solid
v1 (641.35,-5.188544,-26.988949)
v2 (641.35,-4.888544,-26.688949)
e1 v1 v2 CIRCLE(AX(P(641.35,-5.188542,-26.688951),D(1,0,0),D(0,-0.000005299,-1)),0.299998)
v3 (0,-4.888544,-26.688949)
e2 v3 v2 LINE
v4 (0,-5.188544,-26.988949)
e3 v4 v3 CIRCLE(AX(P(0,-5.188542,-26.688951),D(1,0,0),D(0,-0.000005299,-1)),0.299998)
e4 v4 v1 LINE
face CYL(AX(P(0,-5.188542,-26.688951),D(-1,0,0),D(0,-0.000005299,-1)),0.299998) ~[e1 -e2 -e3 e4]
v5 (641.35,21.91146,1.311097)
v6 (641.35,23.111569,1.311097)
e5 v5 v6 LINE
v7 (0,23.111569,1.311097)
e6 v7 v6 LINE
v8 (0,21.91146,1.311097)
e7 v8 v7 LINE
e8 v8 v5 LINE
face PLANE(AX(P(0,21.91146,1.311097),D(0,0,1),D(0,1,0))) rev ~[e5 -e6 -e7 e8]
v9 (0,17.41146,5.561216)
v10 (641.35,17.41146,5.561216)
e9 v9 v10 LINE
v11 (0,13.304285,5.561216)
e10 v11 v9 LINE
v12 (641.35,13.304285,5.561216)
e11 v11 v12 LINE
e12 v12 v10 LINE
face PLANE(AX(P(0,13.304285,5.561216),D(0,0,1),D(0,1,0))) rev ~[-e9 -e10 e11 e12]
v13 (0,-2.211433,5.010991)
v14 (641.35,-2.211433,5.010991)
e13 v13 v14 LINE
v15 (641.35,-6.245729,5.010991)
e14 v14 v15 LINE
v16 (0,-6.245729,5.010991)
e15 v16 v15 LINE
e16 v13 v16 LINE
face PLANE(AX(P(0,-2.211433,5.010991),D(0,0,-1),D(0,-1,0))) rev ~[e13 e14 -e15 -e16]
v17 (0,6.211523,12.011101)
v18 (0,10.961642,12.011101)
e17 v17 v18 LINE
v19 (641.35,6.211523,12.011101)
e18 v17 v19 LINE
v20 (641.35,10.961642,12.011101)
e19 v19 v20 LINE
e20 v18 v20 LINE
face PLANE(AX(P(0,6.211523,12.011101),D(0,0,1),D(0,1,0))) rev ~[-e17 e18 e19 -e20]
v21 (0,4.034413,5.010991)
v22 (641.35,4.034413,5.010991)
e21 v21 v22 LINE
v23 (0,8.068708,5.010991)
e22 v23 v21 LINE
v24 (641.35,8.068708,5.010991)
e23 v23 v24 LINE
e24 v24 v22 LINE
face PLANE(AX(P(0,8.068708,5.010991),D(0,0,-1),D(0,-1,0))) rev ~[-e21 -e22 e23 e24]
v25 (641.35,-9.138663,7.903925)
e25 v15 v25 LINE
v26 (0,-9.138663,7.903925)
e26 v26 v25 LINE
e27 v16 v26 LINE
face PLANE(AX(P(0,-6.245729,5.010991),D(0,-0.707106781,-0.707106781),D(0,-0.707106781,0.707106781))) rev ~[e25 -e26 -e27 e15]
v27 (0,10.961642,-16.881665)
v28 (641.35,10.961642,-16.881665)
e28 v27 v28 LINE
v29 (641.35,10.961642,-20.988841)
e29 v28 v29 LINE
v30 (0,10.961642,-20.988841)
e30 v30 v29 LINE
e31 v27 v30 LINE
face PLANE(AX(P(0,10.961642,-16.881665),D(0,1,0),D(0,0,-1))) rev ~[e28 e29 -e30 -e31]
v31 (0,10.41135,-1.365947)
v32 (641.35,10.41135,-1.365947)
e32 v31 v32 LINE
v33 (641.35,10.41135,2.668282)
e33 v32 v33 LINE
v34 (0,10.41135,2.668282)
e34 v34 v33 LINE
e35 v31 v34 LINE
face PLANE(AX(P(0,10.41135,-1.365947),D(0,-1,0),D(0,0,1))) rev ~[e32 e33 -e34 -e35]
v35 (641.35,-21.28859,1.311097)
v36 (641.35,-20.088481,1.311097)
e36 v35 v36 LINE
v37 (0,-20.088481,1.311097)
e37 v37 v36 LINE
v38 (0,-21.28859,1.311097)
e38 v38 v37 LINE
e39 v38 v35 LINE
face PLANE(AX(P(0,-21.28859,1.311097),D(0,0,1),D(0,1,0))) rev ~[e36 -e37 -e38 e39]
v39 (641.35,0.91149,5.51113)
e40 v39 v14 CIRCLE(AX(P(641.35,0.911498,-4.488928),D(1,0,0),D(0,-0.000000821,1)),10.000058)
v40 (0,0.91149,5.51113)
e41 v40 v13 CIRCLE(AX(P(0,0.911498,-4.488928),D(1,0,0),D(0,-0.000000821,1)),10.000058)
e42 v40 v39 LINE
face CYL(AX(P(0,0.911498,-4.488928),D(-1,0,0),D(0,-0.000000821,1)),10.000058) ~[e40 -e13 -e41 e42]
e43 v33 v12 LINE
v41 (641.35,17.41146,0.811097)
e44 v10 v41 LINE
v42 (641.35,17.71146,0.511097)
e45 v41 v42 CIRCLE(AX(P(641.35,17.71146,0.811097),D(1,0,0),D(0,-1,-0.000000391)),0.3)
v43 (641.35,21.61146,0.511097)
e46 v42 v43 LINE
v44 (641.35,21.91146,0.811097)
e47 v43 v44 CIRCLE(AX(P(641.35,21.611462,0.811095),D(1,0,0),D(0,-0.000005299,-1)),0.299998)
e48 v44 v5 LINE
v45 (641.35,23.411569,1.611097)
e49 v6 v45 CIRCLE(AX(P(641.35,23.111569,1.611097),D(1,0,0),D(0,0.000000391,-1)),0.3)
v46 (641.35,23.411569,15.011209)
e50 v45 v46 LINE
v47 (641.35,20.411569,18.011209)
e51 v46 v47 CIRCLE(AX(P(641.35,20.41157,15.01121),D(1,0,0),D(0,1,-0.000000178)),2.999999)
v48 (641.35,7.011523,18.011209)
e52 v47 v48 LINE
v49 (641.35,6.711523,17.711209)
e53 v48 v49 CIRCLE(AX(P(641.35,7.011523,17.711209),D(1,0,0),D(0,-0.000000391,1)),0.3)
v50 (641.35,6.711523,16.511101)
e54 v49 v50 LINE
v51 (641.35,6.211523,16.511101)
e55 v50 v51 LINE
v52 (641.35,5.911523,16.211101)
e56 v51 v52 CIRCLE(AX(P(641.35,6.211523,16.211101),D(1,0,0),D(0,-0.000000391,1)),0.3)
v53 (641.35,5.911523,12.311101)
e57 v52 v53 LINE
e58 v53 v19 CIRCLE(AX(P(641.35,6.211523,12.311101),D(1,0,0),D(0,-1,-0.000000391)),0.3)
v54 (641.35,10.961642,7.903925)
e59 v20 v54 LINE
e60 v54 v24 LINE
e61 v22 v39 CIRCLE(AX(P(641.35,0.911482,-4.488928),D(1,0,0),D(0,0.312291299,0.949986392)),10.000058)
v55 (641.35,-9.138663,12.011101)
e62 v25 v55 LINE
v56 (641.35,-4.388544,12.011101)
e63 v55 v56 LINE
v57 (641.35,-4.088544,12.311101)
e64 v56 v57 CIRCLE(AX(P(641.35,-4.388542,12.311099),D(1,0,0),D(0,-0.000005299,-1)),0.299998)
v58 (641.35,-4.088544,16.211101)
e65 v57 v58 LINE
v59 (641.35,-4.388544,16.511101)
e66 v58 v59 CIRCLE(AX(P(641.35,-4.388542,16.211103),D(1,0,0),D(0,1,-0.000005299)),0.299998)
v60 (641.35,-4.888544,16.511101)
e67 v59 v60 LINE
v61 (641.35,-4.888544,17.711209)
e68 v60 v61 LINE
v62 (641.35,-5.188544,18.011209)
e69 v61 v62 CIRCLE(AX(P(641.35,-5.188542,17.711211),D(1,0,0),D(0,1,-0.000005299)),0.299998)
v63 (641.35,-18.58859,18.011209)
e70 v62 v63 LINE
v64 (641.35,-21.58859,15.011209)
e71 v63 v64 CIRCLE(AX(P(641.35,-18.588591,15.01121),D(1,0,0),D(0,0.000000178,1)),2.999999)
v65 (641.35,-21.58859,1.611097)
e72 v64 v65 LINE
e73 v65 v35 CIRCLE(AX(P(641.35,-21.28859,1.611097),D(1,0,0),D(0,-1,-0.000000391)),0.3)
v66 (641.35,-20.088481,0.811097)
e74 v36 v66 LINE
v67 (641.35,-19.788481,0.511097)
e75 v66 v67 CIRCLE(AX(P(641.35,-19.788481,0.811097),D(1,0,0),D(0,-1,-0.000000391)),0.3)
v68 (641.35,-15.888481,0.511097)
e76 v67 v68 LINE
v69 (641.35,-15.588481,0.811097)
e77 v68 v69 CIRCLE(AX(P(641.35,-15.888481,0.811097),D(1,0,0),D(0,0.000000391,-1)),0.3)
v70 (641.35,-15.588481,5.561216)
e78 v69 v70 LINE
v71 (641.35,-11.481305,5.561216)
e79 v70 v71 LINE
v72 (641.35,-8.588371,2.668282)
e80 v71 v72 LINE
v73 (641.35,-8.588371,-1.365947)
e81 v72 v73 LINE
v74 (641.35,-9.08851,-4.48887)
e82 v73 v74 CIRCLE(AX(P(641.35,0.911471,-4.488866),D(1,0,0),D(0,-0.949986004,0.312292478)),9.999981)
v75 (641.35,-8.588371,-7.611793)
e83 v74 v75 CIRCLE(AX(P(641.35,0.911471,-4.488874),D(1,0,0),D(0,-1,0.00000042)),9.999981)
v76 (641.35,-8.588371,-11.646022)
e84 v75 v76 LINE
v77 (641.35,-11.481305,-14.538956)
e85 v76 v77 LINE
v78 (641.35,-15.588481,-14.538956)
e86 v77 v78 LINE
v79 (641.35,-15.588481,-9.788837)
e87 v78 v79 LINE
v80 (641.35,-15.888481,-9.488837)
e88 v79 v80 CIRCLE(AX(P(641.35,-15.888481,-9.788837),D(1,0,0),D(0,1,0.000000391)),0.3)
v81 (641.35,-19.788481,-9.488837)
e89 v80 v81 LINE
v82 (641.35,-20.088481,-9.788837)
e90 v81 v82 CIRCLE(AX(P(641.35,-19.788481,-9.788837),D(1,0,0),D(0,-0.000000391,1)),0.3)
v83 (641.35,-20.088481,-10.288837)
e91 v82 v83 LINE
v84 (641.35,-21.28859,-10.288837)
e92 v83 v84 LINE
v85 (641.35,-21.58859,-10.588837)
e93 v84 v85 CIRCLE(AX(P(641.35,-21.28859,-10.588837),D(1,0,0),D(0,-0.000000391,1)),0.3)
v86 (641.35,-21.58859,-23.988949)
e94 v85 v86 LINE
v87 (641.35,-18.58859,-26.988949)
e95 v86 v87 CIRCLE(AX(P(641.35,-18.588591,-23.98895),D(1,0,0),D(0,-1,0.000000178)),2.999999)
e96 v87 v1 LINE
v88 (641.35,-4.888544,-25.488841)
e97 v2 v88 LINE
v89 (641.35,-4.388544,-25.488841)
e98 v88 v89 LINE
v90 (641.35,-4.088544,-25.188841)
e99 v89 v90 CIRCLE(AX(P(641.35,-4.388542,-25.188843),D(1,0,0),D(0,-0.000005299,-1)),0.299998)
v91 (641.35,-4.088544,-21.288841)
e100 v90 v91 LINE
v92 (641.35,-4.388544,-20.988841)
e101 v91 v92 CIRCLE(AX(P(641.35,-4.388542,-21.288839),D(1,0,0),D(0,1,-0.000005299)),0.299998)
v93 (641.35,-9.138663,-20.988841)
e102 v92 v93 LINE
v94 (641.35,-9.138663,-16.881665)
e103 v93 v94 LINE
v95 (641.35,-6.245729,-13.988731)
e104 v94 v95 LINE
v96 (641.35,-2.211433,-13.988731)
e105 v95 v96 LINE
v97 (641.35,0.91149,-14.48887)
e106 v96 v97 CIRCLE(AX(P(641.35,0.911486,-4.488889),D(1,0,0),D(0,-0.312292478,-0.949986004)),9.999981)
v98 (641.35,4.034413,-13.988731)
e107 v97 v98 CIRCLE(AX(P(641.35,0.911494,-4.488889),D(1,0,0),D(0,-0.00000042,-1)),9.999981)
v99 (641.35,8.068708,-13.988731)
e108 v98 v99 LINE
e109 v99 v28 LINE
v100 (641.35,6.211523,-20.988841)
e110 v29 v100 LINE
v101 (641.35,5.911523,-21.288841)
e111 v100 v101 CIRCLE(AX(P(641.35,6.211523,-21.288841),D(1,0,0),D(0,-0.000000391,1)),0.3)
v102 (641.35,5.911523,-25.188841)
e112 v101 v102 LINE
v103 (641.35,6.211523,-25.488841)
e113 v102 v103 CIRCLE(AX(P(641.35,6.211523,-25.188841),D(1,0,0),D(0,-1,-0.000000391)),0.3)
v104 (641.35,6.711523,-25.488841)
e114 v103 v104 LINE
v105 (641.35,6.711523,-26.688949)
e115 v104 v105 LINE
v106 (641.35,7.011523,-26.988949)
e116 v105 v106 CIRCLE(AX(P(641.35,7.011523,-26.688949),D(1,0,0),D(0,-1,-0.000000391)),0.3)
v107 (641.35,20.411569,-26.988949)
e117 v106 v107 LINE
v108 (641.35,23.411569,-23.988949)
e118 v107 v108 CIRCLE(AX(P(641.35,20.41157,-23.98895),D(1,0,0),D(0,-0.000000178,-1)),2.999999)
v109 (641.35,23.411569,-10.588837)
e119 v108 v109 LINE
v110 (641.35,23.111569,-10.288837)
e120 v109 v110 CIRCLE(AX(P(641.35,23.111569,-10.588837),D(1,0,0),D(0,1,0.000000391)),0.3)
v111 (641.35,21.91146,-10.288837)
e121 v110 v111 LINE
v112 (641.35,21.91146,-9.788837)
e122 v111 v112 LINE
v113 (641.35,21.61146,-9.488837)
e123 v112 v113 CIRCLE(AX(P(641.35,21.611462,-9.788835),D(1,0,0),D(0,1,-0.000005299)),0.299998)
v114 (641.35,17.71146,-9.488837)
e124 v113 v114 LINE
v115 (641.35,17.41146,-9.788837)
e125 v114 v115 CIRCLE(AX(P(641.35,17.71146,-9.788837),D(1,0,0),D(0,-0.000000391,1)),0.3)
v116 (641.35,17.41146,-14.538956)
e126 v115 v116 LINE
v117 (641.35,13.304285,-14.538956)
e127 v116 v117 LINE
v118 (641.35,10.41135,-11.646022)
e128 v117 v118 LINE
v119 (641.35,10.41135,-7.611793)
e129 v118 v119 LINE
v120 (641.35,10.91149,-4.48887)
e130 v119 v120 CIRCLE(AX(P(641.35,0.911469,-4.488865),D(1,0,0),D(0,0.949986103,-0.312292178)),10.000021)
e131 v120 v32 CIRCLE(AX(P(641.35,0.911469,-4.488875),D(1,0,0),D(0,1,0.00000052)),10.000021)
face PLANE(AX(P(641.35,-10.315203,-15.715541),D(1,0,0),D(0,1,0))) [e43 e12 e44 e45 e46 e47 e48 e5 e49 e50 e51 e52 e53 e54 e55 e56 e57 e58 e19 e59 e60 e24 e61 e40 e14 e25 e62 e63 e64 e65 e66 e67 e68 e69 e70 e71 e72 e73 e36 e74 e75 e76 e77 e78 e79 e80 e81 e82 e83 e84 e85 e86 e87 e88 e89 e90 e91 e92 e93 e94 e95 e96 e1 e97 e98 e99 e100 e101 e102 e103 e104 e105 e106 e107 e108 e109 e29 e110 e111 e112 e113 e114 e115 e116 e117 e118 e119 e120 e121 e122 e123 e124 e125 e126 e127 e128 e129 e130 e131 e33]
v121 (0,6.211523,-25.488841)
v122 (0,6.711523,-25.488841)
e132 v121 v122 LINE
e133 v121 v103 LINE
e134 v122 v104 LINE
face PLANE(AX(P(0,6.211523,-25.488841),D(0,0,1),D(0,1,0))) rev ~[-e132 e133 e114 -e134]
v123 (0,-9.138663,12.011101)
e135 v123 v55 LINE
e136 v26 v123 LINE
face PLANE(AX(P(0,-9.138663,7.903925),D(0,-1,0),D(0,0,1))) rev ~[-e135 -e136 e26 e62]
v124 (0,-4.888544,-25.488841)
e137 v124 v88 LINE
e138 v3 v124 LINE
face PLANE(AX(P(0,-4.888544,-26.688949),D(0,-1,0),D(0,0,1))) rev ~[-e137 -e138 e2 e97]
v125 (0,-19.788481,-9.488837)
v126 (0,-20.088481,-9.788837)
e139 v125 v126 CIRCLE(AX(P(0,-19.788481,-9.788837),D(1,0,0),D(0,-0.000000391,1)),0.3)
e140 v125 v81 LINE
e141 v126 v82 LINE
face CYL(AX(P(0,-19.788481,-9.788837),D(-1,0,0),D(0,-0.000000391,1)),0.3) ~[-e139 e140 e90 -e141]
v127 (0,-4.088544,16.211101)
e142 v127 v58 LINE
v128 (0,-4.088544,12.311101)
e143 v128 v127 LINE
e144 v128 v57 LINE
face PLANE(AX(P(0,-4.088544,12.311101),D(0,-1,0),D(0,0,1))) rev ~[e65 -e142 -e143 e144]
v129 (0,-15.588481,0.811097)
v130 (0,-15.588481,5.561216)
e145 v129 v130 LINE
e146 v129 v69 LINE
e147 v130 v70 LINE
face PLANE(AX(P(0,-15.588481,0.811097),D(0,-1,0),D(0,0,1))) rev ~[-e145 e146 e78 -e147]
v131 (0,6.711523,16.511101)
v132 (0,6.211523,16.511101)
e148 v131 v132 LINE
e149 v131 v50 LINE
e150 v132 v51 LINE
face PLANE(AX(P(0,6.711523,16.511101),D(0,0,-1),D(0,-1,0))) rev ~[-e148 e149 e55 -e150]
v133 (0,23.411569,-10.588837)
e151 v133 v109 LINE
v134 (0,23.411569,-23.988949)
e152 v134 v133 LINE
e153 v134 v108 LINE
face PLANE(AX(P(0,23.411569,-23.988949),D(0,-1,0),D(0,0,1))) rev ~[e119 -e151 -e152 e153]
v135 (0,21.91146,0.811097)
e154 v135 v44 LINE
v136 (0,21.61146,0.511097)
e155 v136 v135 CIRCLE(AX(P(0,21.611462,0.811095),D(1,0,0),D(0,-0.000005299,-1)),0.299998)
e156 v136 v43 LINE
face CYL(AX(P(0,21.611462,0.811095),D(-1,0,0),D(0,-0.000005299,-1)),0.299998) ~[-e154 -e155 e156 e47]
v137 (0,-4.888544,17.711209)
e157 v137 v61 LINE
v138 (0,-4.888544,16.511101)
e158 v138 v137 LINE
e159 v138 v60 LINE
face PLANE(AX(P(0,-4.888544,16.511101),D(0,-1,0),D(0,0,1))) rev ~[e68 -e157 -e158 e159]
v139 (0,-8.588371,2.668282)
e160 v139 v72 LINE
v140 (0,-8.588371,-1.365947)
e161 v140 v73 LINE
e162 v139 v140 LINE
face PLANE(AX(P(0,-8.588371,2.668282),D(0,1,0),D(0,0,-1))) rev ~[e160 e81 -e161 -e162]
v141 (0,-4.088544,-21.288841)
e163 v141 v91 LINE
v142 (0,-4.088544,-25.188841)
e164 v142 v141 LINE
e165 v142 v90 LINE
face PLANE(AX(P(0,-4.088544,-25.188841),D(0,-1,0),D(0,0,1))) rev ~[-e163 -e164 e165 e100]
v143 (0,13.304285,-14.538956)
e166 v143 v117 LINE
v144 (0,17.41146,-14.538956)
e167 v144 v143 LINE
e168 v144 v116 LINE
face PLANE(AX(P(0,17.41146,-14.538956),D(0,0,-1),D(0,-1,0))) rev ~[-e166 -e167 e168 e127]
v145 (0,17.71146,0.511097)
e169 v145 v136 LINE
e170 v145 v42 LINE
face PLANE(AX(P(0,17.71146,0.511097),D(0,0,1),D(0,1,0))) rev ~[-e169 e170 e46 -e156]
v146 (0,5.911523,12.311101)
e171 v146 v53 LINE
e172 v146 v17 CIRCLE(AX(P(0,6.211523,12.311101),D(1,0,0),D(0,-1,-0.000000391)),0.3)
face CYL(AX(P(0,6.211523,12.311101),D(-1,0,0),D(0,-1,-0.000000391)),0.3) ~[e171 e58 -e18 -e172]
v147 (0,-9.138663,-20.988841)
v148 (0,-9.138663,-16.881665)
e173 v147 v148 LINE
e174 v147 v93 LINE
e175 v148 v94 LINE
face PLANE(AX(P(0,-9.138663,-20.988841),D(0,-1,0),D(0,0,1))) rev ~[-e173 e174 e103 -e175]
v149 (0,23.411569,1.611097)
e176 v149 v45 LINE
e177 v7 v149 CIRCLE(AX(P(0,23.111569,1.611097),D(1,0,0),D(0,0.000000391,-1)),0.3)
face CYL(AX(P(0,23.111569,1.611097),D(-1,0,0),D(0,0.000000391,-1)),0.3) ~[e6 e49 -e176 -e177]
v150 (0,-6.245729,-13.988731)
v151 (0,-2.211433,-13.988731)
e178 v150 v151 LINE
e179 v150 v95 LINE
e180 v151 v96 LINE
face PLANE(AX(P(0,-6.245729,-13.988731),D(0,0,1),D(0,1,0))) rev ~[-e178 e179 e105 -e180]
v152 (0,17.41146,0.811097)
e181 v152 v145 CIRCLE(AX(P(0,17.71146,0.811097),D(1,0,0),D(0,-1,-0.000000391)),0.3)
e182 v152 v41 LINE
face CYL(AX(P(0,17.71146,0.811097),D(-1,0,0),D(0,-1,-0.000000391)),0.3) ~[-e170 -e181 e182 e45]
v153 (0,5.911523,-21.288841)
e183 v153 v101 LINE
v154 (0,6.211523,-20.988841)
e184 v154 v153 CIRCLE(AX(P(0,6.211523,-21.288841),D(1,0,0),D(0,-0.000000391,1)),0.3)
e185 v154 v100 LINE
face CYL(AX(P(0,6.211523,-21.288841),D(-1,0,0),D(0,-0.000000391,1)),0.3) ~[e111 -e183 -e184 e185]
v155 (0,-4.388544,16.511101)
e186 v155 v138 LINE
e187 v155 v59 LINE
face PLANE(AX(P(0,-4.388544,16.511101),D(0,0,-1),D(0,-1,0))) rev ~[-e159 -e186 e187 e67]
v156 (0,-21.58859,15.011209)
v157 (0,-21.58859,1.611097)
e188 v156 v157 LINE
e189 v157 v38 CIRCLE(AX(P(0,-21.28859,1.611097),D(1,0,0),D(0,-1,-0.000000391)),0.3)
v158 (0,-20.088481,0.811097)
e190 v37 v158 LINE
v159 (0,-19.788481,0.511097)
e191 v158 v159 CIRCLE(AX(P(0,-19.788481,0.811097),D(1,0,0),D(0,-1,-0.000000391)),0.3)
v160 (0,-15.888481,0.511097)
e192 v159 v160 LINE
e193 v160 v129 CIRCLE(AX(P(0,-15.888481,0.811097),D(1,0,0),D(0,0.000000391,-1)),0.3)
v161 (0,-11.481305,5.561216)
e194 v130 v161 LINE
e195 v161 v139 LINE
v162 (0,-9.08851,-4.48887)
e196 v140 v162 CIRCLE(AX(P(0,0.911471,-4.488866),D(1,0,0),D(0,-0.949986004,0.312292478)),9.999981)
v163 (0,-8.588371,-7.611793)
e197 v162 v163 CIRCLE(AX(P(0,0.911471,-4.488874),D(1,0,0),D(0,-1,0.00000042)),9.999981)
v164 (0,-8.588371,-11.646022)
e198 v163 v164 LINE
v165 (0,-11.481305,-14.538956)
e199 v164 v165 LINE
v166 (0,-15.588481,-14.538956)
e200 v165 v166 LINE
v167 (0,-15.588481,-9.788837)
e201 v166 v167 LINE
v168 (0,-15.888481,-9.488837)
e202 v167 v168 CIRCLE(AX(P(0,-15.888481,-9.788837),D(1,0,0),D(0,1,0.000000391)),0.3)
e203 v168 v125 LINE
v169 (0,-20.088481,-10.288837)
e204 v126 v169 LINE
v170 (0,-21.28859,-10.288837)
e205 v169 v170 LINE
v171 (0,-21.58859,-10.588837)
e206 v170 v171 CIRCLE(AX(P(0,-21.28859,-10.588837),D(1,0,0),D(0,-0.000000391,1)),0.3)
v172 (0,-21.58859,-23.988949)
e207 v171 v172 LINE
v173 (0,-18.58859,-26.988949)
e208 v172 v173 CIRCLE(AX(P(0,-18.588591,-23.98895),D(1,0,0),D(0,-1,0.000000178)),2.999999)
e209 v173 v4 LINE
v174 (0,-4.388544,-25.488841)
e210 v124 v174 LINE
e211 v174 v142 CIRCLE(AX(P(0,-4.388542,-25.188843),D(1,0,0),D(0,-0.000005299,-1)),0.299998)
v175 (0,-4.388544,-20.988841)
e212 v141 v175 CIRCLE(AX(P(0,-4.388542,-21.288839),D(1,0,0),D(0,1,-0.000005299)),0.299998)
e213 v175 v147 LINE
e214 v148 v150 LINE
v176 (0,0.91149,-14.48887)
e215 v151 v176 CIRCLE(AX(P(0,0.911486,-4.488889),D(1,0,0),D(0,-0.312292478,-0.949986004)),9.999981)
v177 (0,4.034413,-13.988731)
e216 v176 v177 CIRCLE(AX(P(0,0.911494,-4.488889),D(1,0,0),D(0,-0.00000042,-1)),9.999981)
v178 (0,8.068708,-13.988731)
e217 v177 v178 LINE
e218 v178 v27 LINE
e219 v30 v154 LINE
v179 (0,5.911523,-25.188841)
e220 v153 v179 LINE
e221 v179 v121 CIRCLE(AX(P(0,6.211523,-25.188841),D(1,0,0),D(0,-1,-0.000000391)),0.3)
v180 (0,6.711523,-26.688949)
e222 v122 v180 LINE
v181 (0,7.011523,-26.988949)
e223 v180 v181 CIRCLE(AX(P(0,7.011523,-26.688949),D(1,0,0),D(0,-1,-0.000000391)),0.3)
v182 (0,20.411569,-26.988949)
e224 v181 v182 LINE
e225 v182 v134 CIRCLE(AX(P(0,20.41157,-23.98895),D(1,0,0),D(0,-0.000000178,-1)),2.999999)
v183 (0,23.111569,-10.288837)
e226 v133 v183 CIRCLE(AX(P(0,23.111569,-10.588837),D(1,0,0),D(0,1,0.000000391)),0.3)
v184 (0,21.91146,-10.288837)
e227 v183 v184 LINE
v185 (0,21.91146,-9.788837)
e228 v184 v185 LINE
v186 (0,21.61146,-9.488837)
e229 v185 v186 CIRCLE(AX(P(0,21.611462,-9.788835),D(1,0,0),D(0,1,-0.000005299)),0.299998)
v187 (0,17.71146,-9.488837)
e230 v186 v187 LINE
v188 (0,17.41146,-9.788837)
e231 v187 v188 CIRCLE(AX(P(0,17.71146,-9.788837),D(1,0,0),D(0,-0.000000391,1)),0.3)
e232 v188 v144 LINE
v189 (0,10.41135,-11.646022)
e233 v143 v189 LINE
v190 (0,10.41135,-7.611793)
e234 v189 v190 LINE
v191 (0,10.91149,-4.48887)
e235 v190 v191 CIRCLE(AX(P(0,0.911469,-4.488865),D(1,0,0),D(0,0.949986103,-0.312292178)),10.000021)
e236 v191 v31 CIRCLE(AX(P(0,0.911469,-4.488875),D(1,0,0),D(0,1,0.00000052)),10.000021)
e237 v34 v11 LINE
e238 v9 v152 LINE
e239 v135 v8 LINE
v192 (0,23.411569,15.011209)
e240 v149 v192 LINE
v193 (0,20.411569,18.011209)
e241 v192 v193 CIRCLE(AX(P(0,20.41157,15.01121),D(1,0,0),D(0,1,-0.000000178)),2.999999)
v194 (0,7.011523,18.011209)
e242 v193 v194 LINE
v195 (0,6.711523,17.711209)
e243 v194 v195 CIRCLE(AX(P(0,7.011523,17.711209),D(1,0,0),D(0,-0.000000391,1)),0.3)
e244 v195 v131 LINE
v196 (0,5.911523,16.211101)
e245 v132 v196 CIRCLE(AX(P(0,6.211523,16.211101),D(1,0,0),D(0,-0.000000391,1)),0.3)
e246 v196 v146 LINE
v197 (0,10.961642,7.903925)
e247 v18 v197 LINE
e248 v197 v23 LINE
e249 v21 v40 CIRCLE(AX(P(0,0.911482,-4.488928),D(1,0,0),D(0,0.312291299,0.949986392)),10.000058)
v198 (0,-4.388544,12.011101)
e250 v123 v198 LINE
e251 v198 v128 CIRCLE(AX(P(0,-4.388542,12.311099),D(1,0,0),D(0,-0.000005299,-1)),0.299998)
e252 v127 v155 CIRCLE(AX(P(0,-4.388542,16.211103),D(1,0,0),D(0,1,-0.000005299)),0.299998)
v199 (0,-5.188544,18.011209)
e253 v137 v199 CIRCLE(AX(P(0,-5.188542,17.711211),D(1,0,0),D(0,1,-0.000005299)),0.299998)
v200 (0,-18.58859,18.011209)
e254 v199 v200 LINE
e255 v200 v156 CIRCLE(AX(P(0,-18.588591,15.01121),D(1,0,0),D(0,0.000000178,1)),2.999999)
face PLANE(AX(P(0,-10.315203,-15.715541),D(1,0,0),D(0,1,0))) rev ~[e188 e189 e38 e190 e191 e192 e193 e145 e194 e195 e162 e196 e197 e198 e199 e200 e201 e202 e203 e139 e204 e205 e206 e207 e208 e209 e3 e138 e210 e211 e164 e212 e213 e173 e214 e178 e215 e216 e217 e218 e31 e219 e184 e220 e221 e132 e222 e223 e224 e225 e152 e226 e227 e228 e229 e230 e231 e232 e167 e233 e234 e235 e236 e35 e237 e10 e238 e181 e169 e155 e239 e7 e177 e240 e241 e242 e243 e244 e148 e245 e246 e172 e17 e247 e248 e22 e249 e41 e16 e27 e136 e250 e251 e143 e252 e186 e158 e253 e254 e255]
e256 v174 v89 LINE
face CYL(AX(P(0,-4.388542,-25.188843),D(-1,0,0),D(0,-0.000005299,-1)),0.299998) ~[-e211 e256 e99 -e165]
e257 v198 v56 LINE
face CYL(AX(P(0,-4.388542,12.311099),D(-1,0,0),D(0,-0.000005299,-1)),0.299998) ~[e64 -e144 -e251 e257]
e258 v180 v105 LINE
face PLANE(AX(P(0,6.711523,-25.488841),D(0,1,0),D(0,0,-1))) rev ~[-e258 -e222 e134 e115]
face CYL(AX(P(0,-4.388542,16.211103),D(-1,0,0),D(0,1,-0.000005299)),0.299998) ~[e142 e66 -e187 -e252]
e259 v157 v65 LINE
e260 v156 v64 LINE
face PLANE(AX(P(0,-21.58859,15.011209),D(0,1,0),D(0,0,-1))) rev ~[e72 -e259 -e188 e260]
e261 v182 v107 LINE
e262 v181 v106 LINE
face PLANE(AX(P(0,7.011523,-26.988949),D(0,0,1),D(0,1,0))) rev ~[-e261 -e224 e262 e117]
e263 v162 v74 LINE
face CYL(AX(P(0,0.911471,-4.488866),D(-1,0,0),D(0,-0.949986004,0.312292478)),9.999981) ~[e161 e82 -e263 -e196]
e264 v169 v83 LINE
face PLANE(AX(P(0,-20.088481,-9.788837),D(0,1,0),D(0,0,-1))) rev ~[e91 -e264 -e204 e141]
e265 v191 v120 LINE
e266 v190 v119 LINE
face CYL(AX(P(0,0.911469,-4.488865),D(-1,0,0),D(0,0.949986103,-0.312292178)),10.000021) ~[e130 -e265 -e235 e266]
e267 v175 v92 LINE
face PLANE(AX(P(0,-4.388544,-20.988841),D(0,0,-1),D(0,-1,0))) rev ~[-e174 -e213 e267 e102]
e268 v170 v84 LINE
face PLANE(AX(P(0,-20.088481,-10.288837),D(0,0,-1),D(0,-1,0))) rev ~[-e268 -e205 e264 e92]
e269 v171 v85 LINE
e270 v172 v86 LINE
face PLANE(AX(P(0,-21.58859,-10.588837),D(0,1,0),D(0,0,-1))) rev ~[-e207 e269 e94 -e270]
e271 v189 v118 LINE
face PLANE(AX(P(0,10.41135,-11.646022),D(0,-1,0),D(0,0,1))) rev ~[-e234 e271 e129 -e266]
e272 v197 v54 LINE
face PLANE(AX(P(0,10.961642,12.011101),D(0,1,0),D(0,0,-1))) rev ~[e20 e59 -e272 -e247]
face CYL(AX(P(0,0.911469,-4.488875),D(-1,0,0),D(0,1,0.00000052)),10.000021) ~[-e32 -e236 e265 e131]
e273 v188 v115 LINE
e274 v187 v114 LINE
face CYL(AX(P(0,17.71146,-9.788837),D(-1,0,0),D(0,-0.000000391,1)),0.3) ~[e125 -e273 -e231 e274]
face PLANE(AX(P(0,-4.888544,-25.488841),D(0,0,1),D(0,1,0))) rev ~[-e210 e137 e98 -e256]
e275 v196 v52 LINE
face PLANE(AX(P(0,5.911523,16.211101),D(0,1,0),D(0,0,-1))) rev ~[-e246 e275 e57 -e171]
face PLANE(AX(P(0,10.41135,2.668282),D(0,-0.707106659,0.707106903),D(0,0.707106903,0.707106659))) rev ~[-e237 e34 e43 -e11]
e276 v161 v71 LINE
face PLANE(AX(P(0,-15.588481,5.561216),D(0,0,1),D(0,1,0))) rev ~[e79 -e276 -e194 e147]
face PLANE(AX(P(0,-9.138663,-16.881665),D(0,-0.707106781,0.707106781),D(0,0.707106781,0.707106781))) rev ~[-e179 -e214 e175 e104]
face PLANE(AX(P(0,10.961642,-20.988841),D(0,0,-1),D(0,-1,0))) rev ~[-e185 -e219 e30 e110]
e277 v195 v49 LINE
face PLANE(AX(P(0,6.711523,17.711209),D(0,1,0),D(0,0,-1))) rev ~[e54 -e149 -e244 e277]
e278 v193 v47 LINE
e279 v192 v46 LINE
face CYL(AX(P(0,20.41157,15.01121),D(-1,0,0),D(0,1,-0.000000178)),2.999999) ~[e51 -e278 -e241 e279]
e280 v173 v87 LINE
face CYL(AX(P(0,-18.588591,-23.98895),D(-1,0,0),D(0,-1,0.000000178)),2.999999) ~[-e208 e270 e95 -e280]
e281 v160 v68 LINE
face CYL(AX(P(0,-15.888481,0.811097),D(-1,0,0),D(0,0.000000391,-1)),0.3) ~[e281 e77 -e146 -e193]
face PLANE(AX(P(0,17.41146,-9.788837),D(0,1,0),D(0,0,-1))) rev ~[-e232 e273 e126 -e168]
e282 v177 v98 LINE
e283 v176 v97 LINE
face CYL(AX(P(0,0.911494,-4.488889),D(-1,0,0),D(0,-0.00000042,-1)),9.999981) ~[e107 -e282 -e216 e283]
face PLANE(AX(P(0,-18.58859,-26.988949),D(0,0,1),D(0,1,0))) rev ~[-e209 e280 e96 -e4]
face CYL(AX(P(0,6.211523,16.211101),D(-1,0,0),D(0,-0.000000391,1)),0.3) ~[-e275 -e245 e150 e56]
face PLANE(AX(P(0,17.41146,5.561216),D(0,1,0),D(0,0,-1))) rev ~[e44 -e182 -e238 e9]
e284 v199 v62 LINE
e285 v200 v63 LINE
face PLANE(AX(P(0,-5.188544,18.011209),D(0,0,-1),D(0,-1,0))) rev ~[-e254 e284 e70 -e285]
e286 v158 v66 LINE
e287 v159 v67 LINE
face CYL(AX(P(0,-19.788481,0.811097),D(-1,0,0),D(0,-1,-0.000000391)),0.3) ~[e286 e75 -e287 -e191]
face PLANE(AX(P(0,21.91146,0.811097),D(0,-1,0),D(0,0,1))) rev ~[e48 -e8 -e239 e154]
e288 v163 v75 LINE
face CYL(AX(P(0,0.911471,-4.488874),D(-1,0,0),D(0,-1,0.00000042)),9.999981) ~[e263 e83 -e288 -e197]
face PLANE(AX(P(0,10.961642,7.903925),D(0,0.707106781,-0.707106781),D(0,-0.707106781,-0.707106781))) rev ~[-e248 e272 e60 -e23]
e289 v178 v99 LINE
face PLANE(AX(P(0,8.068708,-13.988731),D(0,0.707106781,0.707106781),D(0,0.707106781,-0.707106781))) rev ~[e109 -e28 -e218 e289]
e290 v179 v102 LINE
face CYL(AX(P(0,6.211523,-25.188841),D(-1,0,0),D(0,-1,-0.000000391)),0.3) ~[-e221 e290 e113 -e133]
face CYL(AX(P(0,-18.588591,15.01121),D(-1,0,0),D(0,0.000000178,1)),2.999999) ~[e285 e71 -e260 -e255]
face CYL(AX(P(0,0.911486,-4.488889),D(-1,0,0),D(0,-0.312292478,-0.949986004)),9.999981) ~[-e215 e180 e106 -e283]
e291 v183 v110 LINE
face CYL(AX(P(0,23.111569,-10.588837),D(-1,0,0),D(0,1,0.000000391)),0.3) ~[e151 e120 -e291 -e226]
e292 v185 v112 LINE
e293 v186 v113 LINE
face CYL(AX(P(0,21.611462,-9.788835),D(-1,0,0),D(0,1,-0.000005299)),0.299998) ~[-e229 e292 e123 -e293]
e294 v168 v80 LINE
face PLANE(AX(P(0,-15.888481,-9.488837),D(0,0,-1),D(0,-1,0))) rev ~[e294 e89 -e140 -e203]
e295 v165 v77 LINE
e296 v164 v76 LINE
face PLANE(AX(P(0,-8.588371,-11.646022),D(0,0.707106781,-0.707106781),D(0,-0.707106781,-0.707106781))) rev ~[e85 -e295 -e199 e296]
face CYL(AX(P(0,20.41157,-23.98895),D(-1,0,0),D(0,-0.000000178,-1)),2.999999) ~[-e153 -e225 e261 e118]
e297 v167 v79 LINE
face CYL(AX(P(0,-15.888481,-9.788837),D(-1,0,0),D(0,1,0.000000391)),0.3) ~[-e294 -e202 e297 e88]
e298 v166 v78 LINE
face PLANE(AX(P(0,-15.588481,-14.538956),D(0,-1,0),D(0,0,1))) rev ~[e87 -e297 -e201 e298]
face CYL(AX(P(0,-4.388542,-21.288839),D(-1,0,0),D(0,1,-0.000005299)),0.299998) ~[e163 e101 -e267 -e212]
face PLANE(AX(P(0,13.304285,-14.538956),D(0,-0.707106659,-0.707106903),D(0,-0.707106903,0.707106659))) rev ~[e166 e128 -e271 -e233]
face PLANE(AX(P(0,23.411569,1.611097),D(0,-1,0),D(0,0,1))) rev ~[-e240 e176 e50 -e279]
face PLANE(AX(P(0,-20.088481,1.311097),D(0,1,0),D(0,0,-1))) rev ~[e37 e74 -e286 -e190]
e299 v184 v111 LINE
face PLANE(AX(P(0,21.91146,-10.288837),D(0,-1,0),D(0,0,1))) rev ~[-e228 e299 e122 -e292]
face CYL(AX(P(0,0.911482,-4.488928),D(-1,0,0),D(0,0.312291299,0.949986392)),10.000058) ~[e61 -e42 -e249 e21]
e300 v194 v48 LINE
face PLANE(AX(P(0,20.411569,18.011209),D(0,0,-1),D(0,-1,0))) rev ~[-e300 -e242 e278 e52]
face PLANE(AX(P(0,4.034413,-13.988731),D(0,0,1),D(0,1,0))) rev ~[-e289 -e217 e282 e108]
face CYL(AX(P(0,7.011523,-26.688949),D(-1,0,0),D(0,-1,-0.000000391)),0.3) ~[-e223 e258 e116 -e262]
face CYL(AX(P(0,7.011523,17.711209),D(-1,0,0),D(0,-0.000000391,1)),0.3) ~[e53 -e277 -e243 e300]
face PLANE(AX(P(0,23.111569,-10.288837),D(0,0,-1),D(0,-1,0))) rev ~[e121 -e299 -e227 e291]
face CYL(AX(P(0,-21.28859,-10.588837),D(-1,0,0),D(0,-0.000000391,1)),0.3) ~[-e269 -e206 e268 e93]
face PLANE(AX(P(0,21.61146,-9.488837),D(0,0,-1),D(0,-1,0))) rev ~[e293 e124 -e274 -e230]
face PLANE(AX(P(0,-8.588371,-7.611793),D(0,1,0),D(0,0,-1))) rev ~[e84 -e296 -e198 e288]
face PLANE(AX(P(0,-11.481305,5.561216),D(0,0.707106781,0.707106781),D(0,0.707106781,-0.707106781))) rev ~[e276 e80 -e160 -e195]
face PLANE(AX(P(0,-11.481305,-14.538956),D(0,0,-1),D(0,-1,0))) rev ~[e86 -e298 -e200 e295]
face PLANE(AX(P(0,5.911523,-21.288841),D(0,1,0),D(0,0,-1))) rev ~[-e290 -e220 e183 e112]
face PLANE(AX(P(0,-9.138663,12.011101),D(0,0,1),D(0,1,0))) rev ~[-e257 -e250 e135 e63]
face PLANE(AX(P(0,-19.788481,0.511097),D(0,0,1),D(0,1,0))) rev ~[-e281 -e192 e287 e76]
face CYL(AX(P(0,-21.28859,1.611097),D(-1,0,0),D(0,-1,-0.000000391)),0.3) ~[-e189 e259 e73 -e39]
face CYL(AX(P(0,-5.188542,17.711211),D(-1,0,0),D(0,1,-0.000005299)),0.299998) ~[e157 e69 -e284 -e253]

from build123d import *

# Parameters (mm, degrees)
F1_DEPTH = 641.35


with BuildPart() as f1:
    # F0 (on Right) → F1 (new body)
    with BuildSketch(Plane.YZ):
        with BuildLine():
            Line((-20.088481, -9.788837), (-20.088481, -10.288837))
            Line((-20.088481, -10.288837), (-21.28859, -10.288837))
            ThreePointArc((-21.28859, -10.288837), (-21.500722, -10.376705), (-21.58859, -10.588837))
            Line((-21.58859, -10.588837), (-21.58859, -23.988949))
            ThreePointArc((-21.58859, -23.988949), (-20.70991, -26.11027), (-18.58859, -26.988949))
            Line((-18.58859, -26.988949), (-5.188544, -26.988949))
            ThreePointArc((-5.188544, -26.988949), (-4.976411, -26.901081), (-4.888544, -26.688949))
            Line((-4.888544, -26.688949), (-4.888544, -25.488841))
            Line((-4.888544, -25.488841), (-4.388544, -25.488841))
            ThreePointArc((-4.388544, -25.488841), (-4.176411, -25.400973), (-4.088544, -25.188841))
            Line((-4.088544, -25.188841), (-4.088544, -21.288841))
            ThreePointArc((-4.088544, -21.288841), (-4.176411, -21.076709), (-4.388544, -20.988841))
            Line((-4.388544, -20.988841), (-9.138663, -20.988841))
            Line((-9.138663, -20.988841), (-9.138663, -16.881665))
            Line((-9.138663, -16.881665), (-6.245729, -13.988731))
            Line((-6.245729, -13.988731), (-2.211433, -13.988731))
            ThreePointArc((-2.211433, -13.988731), (-0.669869, -14.363044), (0.91149, -14.48887))
            Line((0.91149, -14.48887), (0.91149, -4.48887))
            Line((0.91149, -4.48887), (-9.08851, -4.48887))
            ThreePointArc((-9.08851, -4.48887), (-8.962684, -6.070229), (-8.588371, -7.611793))
            Line((-8.588371, -7.611793), (-8.588371, -11.646022))
            Line((-8.588371, -11.646022), (-11.481305, -14.538956))
            Line((-11.481305, -14.538956), (-15.588481, -14.538956))
            Line((-15.588481, -14.538956), (-15.588481, -9.788837))
            ThreePointArc((-15.588481, -9.788837), (-15.676349, -9.576705), (-15.888481, -9.488837))
            Line((-15.888481, -9.488837), (-19.788481, -9.488837))
            ThreePointArc((-19.788481, -9.488837), (-20.000613, -9.576705), (-20.088481, -9.788837))
        make_face()
        with BuildLine():
            ThreePointArc((-8.588371, -1.365947), (-8.962684, -2.907511), (-9.08851, -4.48887))
            Line((-9.08851, -4.48887), (0.91149, -4.48887))
            Line((0.91149, -4.48887), (0.91149, 5.51113))
            ThreePointArc((0.91149, 5.51113), (-0.669869, 5.385303), (-2.211433, 5.010991))
            Line((-2.211433, 5.010991), (-6.245729, 5.010991))
            Line((-6.245729, 5.010991), (-9.138663, 7.903925))
            Line((-9.138663, 7.903925), (-9.138663, 12.011101))
            Line((-9.138663, 12.011101), (-4.388544, 12.011101))
            ThreePointArc((-4.388544, 12.011101), (-4.176411, 12.098969), (-4.088544, 12.311101))
            Line((-4.088544, 12.311101), (-4.088544, 16.211101))
            ThreePointArc((-4.088544, 16.211101), (-4.176411, 16.423233), (-4.388544, 16.511101))
            Line((-4.388544, 16.511101), (-4.888544, 16.511101))
            Line((-4.888544, 16.511101), (-4.888544, 17.711209))
            ThreePointArc((-4.888544, 17.711209), (-4.976411, 17.923341), (-5.188544, 18.011209))
            Line((-5.188544, 18.011209), (-18.58859, 18.011209))
            ThreePointArc((-18.58859, 18.011209), (-20.70991, 17.13253), (-21.58859, 15.011209))
            Line((-21.58859, 15.011209), (-21.58859, 1.611097))
            ThreePointArc((-21.58859, 1.611097), (-21.500722, 1.398965), (-21.28859, 1.311097))
            Line((-21.28859, 1.311097), (-20.088481, 1.311097))
            Line((-20.088481, 1.311097), (-20.088481, 0.811097))
            ThreePointArc((-20.088481, 0.811097), (-20.000613, 0.598965), (-19.788481, 0.511097))
            Line((-19.788481, 0.511097), (-15.888481, 0.511097))
            ThreePointArc((-15.888481, 0.511097), (-15.676349, 0.598965), (-15.588481, 0.811097))
            Line((-15.588481, 0.811097), (-15.588481, 5.561216))
            Line((-15.588481, 5.561216), (-11.481305, 5.561216))
            Line((-11.481305, 5.561216), (-8.588371, 2.668282))
            Line((-8.588371, 2.668282), (-8.588371, -1.365947))
        make_face()
        with BuildLine():
            Line((0.91149, 5.51113), (0.91149, -4.48887))
            Line((0.91149, -4.48887), (10.91149, -4.48887))
            ThreePointArc((10.91149, -4.48887), (10.785663, -2.907511), (10.41135, -1.365947))
            Line((10.41135, -1.365947), (10.41135, 2.668282))
            Line((10.41135, 2.668282), (13.304285, 5.561216))
            Line((13.304285, 5.561216), (14.016842, 5.561216))
            Line((14.016842, 5.561216), (17.41146, 5.561216))
            Line((17.41146, 5.561216), (17.41146, 0.811097))
            ThreePointArc((17.41146, 0.811097), (17.499328, 0.598965), (17.71146, 0.511097))
            Line((17.71146, 0.511097), (21.61146, 0.511097))
            ThreePointArc((21.61146, 0.511097), (21.823593, 0.598965), (21.91146, 0.811097))
            Line((21.91146, 0.811097), (21.91146, 1.311097))
            Line((21.91146, 1.311097), (23.111569, 1.311097))
            ThreePointArc((23.111569, 1.311097), (23.323701, 1.398965), (23.411569, 1.611097))
            Line((23.411569, 1.611097), (23.411569, 15.011209))
            ThreePointArc((23.411569, 15.011209), (22.532889, 17.13253), (20.411569, 18.011209))
            Line((20.411569, 18.011209), (7.011523, 18.011209))
            ThreePointArc((7.011523, 18.011209), (6.799391, 17.923341), (6.711523, 17.711209))
            Line((6.711523, 17.711209), (6.711523, 16.511101))
            Line((6.711523, 16.511101), (6.211523, 16.511101))
            ThreePointArc((6.211523, 16.511101), (5.999391, 16.423233), (5.911523, 16.211101))
            Line((5.911523, 16.211101), (5.911523, 12.311101))
            ThreePointArc((5.911523, 12.311101), (5.999391, 12.098969), (6.211523, 12.011101))
            Line((6.211523, 12.011101), (10.961642, 12.011101))
            Line((10.961642, 12.011101), (10.961642, 7.903925))
            Line((10.961642, 7.903925), (8.068708, 5.010991))
            Line((8.068708, 5.010991), (4.034413, 5.010991))
            ThreePointArc((4.034413, 5.010991), (2.492849, 5.385303), (0.91149, 5.51113))
        make_face()
        with BuildLine():
            Line((10.91149, -4.48887), (0.91149, -4.48887))
            Line((0.91149, -4.48887), (0.91149, -14.48887))
            ThreePointArc((0.91149, -14.48887), (2.492849, -14.363044), (4.034413, -13.988731))
            Line((4.034413, -13.988731), (8.068708, -13.988731))
            Line((8.068708, -13.988731), (10.961642, -16.881665))
            Line((10.961642, -16.881665), (10.961642, -20.988841))
            Line((10.961642, -20.988841), (6.211523, -20.988841))
            ThreePointArc((6.211523, -20.988841), (5.999391, -21.076709), (5.911523, -21.288841))
            Line((5.911523, -21.288841), (5.911523, -25.188841))
            ThreePointArc((5.911523, -25.188841), (5.999391, -25.400973), (6.211523, -25.488841))
            Line((6.211523, -25.488841), (6.711523, -25.488841))
            Line((6.711523, -25.488841), (6.711523, -26.688949))
            ThreePointArc((6.711523, -26.688949), (6.799391, -26.901081), (7.011523, -26.988949))
            Line((7.011523, -26.988949), (20.411569, -26.988949))
            ThreePointArc((20.411569, -26.988949), (22.532889, -26.11027), (23.411569, -23.988949))
            Line((23.411569, -23.988949), (23.411569, -10.588837))
            ThreePointArc((23.411569, -10.588837), (23.323701, -10.376705), (23.111569, -10.288837))
            Line((23.111569, -10.288837), (21.91146, -10.288837))
            Line((21.91146, -10.288837), (21.91146, -9.788837))
            ThreePointArc((21.91146, -9.788837), (21.823593, -9.576705), (21.61146, -9.488837))
            Line((21.61146, -9.488837), (17.71146, -9.488837))
            ThreePointArc((17.71146, -9.488837), (17.499328, -9.576705), (17.41146, -9.788837))
            Line((17.41146, -9.788837), (17.41146, -14.538956))
            Line((17.41146, -14.538956), (13.304285, -14.538956))
            Line((13.304285, -14.538956), (10.41135, -11.646022))
            Line((10.41135, -11.646022), (10.41135, -7.611793))
            ThreePointArc((10.41135, -7.611793), (10.785663, -6.070229), (10.91149, -4.48887))
        make_face()
    extrude(amount=F1_DEPTH)


solid = f1.part
